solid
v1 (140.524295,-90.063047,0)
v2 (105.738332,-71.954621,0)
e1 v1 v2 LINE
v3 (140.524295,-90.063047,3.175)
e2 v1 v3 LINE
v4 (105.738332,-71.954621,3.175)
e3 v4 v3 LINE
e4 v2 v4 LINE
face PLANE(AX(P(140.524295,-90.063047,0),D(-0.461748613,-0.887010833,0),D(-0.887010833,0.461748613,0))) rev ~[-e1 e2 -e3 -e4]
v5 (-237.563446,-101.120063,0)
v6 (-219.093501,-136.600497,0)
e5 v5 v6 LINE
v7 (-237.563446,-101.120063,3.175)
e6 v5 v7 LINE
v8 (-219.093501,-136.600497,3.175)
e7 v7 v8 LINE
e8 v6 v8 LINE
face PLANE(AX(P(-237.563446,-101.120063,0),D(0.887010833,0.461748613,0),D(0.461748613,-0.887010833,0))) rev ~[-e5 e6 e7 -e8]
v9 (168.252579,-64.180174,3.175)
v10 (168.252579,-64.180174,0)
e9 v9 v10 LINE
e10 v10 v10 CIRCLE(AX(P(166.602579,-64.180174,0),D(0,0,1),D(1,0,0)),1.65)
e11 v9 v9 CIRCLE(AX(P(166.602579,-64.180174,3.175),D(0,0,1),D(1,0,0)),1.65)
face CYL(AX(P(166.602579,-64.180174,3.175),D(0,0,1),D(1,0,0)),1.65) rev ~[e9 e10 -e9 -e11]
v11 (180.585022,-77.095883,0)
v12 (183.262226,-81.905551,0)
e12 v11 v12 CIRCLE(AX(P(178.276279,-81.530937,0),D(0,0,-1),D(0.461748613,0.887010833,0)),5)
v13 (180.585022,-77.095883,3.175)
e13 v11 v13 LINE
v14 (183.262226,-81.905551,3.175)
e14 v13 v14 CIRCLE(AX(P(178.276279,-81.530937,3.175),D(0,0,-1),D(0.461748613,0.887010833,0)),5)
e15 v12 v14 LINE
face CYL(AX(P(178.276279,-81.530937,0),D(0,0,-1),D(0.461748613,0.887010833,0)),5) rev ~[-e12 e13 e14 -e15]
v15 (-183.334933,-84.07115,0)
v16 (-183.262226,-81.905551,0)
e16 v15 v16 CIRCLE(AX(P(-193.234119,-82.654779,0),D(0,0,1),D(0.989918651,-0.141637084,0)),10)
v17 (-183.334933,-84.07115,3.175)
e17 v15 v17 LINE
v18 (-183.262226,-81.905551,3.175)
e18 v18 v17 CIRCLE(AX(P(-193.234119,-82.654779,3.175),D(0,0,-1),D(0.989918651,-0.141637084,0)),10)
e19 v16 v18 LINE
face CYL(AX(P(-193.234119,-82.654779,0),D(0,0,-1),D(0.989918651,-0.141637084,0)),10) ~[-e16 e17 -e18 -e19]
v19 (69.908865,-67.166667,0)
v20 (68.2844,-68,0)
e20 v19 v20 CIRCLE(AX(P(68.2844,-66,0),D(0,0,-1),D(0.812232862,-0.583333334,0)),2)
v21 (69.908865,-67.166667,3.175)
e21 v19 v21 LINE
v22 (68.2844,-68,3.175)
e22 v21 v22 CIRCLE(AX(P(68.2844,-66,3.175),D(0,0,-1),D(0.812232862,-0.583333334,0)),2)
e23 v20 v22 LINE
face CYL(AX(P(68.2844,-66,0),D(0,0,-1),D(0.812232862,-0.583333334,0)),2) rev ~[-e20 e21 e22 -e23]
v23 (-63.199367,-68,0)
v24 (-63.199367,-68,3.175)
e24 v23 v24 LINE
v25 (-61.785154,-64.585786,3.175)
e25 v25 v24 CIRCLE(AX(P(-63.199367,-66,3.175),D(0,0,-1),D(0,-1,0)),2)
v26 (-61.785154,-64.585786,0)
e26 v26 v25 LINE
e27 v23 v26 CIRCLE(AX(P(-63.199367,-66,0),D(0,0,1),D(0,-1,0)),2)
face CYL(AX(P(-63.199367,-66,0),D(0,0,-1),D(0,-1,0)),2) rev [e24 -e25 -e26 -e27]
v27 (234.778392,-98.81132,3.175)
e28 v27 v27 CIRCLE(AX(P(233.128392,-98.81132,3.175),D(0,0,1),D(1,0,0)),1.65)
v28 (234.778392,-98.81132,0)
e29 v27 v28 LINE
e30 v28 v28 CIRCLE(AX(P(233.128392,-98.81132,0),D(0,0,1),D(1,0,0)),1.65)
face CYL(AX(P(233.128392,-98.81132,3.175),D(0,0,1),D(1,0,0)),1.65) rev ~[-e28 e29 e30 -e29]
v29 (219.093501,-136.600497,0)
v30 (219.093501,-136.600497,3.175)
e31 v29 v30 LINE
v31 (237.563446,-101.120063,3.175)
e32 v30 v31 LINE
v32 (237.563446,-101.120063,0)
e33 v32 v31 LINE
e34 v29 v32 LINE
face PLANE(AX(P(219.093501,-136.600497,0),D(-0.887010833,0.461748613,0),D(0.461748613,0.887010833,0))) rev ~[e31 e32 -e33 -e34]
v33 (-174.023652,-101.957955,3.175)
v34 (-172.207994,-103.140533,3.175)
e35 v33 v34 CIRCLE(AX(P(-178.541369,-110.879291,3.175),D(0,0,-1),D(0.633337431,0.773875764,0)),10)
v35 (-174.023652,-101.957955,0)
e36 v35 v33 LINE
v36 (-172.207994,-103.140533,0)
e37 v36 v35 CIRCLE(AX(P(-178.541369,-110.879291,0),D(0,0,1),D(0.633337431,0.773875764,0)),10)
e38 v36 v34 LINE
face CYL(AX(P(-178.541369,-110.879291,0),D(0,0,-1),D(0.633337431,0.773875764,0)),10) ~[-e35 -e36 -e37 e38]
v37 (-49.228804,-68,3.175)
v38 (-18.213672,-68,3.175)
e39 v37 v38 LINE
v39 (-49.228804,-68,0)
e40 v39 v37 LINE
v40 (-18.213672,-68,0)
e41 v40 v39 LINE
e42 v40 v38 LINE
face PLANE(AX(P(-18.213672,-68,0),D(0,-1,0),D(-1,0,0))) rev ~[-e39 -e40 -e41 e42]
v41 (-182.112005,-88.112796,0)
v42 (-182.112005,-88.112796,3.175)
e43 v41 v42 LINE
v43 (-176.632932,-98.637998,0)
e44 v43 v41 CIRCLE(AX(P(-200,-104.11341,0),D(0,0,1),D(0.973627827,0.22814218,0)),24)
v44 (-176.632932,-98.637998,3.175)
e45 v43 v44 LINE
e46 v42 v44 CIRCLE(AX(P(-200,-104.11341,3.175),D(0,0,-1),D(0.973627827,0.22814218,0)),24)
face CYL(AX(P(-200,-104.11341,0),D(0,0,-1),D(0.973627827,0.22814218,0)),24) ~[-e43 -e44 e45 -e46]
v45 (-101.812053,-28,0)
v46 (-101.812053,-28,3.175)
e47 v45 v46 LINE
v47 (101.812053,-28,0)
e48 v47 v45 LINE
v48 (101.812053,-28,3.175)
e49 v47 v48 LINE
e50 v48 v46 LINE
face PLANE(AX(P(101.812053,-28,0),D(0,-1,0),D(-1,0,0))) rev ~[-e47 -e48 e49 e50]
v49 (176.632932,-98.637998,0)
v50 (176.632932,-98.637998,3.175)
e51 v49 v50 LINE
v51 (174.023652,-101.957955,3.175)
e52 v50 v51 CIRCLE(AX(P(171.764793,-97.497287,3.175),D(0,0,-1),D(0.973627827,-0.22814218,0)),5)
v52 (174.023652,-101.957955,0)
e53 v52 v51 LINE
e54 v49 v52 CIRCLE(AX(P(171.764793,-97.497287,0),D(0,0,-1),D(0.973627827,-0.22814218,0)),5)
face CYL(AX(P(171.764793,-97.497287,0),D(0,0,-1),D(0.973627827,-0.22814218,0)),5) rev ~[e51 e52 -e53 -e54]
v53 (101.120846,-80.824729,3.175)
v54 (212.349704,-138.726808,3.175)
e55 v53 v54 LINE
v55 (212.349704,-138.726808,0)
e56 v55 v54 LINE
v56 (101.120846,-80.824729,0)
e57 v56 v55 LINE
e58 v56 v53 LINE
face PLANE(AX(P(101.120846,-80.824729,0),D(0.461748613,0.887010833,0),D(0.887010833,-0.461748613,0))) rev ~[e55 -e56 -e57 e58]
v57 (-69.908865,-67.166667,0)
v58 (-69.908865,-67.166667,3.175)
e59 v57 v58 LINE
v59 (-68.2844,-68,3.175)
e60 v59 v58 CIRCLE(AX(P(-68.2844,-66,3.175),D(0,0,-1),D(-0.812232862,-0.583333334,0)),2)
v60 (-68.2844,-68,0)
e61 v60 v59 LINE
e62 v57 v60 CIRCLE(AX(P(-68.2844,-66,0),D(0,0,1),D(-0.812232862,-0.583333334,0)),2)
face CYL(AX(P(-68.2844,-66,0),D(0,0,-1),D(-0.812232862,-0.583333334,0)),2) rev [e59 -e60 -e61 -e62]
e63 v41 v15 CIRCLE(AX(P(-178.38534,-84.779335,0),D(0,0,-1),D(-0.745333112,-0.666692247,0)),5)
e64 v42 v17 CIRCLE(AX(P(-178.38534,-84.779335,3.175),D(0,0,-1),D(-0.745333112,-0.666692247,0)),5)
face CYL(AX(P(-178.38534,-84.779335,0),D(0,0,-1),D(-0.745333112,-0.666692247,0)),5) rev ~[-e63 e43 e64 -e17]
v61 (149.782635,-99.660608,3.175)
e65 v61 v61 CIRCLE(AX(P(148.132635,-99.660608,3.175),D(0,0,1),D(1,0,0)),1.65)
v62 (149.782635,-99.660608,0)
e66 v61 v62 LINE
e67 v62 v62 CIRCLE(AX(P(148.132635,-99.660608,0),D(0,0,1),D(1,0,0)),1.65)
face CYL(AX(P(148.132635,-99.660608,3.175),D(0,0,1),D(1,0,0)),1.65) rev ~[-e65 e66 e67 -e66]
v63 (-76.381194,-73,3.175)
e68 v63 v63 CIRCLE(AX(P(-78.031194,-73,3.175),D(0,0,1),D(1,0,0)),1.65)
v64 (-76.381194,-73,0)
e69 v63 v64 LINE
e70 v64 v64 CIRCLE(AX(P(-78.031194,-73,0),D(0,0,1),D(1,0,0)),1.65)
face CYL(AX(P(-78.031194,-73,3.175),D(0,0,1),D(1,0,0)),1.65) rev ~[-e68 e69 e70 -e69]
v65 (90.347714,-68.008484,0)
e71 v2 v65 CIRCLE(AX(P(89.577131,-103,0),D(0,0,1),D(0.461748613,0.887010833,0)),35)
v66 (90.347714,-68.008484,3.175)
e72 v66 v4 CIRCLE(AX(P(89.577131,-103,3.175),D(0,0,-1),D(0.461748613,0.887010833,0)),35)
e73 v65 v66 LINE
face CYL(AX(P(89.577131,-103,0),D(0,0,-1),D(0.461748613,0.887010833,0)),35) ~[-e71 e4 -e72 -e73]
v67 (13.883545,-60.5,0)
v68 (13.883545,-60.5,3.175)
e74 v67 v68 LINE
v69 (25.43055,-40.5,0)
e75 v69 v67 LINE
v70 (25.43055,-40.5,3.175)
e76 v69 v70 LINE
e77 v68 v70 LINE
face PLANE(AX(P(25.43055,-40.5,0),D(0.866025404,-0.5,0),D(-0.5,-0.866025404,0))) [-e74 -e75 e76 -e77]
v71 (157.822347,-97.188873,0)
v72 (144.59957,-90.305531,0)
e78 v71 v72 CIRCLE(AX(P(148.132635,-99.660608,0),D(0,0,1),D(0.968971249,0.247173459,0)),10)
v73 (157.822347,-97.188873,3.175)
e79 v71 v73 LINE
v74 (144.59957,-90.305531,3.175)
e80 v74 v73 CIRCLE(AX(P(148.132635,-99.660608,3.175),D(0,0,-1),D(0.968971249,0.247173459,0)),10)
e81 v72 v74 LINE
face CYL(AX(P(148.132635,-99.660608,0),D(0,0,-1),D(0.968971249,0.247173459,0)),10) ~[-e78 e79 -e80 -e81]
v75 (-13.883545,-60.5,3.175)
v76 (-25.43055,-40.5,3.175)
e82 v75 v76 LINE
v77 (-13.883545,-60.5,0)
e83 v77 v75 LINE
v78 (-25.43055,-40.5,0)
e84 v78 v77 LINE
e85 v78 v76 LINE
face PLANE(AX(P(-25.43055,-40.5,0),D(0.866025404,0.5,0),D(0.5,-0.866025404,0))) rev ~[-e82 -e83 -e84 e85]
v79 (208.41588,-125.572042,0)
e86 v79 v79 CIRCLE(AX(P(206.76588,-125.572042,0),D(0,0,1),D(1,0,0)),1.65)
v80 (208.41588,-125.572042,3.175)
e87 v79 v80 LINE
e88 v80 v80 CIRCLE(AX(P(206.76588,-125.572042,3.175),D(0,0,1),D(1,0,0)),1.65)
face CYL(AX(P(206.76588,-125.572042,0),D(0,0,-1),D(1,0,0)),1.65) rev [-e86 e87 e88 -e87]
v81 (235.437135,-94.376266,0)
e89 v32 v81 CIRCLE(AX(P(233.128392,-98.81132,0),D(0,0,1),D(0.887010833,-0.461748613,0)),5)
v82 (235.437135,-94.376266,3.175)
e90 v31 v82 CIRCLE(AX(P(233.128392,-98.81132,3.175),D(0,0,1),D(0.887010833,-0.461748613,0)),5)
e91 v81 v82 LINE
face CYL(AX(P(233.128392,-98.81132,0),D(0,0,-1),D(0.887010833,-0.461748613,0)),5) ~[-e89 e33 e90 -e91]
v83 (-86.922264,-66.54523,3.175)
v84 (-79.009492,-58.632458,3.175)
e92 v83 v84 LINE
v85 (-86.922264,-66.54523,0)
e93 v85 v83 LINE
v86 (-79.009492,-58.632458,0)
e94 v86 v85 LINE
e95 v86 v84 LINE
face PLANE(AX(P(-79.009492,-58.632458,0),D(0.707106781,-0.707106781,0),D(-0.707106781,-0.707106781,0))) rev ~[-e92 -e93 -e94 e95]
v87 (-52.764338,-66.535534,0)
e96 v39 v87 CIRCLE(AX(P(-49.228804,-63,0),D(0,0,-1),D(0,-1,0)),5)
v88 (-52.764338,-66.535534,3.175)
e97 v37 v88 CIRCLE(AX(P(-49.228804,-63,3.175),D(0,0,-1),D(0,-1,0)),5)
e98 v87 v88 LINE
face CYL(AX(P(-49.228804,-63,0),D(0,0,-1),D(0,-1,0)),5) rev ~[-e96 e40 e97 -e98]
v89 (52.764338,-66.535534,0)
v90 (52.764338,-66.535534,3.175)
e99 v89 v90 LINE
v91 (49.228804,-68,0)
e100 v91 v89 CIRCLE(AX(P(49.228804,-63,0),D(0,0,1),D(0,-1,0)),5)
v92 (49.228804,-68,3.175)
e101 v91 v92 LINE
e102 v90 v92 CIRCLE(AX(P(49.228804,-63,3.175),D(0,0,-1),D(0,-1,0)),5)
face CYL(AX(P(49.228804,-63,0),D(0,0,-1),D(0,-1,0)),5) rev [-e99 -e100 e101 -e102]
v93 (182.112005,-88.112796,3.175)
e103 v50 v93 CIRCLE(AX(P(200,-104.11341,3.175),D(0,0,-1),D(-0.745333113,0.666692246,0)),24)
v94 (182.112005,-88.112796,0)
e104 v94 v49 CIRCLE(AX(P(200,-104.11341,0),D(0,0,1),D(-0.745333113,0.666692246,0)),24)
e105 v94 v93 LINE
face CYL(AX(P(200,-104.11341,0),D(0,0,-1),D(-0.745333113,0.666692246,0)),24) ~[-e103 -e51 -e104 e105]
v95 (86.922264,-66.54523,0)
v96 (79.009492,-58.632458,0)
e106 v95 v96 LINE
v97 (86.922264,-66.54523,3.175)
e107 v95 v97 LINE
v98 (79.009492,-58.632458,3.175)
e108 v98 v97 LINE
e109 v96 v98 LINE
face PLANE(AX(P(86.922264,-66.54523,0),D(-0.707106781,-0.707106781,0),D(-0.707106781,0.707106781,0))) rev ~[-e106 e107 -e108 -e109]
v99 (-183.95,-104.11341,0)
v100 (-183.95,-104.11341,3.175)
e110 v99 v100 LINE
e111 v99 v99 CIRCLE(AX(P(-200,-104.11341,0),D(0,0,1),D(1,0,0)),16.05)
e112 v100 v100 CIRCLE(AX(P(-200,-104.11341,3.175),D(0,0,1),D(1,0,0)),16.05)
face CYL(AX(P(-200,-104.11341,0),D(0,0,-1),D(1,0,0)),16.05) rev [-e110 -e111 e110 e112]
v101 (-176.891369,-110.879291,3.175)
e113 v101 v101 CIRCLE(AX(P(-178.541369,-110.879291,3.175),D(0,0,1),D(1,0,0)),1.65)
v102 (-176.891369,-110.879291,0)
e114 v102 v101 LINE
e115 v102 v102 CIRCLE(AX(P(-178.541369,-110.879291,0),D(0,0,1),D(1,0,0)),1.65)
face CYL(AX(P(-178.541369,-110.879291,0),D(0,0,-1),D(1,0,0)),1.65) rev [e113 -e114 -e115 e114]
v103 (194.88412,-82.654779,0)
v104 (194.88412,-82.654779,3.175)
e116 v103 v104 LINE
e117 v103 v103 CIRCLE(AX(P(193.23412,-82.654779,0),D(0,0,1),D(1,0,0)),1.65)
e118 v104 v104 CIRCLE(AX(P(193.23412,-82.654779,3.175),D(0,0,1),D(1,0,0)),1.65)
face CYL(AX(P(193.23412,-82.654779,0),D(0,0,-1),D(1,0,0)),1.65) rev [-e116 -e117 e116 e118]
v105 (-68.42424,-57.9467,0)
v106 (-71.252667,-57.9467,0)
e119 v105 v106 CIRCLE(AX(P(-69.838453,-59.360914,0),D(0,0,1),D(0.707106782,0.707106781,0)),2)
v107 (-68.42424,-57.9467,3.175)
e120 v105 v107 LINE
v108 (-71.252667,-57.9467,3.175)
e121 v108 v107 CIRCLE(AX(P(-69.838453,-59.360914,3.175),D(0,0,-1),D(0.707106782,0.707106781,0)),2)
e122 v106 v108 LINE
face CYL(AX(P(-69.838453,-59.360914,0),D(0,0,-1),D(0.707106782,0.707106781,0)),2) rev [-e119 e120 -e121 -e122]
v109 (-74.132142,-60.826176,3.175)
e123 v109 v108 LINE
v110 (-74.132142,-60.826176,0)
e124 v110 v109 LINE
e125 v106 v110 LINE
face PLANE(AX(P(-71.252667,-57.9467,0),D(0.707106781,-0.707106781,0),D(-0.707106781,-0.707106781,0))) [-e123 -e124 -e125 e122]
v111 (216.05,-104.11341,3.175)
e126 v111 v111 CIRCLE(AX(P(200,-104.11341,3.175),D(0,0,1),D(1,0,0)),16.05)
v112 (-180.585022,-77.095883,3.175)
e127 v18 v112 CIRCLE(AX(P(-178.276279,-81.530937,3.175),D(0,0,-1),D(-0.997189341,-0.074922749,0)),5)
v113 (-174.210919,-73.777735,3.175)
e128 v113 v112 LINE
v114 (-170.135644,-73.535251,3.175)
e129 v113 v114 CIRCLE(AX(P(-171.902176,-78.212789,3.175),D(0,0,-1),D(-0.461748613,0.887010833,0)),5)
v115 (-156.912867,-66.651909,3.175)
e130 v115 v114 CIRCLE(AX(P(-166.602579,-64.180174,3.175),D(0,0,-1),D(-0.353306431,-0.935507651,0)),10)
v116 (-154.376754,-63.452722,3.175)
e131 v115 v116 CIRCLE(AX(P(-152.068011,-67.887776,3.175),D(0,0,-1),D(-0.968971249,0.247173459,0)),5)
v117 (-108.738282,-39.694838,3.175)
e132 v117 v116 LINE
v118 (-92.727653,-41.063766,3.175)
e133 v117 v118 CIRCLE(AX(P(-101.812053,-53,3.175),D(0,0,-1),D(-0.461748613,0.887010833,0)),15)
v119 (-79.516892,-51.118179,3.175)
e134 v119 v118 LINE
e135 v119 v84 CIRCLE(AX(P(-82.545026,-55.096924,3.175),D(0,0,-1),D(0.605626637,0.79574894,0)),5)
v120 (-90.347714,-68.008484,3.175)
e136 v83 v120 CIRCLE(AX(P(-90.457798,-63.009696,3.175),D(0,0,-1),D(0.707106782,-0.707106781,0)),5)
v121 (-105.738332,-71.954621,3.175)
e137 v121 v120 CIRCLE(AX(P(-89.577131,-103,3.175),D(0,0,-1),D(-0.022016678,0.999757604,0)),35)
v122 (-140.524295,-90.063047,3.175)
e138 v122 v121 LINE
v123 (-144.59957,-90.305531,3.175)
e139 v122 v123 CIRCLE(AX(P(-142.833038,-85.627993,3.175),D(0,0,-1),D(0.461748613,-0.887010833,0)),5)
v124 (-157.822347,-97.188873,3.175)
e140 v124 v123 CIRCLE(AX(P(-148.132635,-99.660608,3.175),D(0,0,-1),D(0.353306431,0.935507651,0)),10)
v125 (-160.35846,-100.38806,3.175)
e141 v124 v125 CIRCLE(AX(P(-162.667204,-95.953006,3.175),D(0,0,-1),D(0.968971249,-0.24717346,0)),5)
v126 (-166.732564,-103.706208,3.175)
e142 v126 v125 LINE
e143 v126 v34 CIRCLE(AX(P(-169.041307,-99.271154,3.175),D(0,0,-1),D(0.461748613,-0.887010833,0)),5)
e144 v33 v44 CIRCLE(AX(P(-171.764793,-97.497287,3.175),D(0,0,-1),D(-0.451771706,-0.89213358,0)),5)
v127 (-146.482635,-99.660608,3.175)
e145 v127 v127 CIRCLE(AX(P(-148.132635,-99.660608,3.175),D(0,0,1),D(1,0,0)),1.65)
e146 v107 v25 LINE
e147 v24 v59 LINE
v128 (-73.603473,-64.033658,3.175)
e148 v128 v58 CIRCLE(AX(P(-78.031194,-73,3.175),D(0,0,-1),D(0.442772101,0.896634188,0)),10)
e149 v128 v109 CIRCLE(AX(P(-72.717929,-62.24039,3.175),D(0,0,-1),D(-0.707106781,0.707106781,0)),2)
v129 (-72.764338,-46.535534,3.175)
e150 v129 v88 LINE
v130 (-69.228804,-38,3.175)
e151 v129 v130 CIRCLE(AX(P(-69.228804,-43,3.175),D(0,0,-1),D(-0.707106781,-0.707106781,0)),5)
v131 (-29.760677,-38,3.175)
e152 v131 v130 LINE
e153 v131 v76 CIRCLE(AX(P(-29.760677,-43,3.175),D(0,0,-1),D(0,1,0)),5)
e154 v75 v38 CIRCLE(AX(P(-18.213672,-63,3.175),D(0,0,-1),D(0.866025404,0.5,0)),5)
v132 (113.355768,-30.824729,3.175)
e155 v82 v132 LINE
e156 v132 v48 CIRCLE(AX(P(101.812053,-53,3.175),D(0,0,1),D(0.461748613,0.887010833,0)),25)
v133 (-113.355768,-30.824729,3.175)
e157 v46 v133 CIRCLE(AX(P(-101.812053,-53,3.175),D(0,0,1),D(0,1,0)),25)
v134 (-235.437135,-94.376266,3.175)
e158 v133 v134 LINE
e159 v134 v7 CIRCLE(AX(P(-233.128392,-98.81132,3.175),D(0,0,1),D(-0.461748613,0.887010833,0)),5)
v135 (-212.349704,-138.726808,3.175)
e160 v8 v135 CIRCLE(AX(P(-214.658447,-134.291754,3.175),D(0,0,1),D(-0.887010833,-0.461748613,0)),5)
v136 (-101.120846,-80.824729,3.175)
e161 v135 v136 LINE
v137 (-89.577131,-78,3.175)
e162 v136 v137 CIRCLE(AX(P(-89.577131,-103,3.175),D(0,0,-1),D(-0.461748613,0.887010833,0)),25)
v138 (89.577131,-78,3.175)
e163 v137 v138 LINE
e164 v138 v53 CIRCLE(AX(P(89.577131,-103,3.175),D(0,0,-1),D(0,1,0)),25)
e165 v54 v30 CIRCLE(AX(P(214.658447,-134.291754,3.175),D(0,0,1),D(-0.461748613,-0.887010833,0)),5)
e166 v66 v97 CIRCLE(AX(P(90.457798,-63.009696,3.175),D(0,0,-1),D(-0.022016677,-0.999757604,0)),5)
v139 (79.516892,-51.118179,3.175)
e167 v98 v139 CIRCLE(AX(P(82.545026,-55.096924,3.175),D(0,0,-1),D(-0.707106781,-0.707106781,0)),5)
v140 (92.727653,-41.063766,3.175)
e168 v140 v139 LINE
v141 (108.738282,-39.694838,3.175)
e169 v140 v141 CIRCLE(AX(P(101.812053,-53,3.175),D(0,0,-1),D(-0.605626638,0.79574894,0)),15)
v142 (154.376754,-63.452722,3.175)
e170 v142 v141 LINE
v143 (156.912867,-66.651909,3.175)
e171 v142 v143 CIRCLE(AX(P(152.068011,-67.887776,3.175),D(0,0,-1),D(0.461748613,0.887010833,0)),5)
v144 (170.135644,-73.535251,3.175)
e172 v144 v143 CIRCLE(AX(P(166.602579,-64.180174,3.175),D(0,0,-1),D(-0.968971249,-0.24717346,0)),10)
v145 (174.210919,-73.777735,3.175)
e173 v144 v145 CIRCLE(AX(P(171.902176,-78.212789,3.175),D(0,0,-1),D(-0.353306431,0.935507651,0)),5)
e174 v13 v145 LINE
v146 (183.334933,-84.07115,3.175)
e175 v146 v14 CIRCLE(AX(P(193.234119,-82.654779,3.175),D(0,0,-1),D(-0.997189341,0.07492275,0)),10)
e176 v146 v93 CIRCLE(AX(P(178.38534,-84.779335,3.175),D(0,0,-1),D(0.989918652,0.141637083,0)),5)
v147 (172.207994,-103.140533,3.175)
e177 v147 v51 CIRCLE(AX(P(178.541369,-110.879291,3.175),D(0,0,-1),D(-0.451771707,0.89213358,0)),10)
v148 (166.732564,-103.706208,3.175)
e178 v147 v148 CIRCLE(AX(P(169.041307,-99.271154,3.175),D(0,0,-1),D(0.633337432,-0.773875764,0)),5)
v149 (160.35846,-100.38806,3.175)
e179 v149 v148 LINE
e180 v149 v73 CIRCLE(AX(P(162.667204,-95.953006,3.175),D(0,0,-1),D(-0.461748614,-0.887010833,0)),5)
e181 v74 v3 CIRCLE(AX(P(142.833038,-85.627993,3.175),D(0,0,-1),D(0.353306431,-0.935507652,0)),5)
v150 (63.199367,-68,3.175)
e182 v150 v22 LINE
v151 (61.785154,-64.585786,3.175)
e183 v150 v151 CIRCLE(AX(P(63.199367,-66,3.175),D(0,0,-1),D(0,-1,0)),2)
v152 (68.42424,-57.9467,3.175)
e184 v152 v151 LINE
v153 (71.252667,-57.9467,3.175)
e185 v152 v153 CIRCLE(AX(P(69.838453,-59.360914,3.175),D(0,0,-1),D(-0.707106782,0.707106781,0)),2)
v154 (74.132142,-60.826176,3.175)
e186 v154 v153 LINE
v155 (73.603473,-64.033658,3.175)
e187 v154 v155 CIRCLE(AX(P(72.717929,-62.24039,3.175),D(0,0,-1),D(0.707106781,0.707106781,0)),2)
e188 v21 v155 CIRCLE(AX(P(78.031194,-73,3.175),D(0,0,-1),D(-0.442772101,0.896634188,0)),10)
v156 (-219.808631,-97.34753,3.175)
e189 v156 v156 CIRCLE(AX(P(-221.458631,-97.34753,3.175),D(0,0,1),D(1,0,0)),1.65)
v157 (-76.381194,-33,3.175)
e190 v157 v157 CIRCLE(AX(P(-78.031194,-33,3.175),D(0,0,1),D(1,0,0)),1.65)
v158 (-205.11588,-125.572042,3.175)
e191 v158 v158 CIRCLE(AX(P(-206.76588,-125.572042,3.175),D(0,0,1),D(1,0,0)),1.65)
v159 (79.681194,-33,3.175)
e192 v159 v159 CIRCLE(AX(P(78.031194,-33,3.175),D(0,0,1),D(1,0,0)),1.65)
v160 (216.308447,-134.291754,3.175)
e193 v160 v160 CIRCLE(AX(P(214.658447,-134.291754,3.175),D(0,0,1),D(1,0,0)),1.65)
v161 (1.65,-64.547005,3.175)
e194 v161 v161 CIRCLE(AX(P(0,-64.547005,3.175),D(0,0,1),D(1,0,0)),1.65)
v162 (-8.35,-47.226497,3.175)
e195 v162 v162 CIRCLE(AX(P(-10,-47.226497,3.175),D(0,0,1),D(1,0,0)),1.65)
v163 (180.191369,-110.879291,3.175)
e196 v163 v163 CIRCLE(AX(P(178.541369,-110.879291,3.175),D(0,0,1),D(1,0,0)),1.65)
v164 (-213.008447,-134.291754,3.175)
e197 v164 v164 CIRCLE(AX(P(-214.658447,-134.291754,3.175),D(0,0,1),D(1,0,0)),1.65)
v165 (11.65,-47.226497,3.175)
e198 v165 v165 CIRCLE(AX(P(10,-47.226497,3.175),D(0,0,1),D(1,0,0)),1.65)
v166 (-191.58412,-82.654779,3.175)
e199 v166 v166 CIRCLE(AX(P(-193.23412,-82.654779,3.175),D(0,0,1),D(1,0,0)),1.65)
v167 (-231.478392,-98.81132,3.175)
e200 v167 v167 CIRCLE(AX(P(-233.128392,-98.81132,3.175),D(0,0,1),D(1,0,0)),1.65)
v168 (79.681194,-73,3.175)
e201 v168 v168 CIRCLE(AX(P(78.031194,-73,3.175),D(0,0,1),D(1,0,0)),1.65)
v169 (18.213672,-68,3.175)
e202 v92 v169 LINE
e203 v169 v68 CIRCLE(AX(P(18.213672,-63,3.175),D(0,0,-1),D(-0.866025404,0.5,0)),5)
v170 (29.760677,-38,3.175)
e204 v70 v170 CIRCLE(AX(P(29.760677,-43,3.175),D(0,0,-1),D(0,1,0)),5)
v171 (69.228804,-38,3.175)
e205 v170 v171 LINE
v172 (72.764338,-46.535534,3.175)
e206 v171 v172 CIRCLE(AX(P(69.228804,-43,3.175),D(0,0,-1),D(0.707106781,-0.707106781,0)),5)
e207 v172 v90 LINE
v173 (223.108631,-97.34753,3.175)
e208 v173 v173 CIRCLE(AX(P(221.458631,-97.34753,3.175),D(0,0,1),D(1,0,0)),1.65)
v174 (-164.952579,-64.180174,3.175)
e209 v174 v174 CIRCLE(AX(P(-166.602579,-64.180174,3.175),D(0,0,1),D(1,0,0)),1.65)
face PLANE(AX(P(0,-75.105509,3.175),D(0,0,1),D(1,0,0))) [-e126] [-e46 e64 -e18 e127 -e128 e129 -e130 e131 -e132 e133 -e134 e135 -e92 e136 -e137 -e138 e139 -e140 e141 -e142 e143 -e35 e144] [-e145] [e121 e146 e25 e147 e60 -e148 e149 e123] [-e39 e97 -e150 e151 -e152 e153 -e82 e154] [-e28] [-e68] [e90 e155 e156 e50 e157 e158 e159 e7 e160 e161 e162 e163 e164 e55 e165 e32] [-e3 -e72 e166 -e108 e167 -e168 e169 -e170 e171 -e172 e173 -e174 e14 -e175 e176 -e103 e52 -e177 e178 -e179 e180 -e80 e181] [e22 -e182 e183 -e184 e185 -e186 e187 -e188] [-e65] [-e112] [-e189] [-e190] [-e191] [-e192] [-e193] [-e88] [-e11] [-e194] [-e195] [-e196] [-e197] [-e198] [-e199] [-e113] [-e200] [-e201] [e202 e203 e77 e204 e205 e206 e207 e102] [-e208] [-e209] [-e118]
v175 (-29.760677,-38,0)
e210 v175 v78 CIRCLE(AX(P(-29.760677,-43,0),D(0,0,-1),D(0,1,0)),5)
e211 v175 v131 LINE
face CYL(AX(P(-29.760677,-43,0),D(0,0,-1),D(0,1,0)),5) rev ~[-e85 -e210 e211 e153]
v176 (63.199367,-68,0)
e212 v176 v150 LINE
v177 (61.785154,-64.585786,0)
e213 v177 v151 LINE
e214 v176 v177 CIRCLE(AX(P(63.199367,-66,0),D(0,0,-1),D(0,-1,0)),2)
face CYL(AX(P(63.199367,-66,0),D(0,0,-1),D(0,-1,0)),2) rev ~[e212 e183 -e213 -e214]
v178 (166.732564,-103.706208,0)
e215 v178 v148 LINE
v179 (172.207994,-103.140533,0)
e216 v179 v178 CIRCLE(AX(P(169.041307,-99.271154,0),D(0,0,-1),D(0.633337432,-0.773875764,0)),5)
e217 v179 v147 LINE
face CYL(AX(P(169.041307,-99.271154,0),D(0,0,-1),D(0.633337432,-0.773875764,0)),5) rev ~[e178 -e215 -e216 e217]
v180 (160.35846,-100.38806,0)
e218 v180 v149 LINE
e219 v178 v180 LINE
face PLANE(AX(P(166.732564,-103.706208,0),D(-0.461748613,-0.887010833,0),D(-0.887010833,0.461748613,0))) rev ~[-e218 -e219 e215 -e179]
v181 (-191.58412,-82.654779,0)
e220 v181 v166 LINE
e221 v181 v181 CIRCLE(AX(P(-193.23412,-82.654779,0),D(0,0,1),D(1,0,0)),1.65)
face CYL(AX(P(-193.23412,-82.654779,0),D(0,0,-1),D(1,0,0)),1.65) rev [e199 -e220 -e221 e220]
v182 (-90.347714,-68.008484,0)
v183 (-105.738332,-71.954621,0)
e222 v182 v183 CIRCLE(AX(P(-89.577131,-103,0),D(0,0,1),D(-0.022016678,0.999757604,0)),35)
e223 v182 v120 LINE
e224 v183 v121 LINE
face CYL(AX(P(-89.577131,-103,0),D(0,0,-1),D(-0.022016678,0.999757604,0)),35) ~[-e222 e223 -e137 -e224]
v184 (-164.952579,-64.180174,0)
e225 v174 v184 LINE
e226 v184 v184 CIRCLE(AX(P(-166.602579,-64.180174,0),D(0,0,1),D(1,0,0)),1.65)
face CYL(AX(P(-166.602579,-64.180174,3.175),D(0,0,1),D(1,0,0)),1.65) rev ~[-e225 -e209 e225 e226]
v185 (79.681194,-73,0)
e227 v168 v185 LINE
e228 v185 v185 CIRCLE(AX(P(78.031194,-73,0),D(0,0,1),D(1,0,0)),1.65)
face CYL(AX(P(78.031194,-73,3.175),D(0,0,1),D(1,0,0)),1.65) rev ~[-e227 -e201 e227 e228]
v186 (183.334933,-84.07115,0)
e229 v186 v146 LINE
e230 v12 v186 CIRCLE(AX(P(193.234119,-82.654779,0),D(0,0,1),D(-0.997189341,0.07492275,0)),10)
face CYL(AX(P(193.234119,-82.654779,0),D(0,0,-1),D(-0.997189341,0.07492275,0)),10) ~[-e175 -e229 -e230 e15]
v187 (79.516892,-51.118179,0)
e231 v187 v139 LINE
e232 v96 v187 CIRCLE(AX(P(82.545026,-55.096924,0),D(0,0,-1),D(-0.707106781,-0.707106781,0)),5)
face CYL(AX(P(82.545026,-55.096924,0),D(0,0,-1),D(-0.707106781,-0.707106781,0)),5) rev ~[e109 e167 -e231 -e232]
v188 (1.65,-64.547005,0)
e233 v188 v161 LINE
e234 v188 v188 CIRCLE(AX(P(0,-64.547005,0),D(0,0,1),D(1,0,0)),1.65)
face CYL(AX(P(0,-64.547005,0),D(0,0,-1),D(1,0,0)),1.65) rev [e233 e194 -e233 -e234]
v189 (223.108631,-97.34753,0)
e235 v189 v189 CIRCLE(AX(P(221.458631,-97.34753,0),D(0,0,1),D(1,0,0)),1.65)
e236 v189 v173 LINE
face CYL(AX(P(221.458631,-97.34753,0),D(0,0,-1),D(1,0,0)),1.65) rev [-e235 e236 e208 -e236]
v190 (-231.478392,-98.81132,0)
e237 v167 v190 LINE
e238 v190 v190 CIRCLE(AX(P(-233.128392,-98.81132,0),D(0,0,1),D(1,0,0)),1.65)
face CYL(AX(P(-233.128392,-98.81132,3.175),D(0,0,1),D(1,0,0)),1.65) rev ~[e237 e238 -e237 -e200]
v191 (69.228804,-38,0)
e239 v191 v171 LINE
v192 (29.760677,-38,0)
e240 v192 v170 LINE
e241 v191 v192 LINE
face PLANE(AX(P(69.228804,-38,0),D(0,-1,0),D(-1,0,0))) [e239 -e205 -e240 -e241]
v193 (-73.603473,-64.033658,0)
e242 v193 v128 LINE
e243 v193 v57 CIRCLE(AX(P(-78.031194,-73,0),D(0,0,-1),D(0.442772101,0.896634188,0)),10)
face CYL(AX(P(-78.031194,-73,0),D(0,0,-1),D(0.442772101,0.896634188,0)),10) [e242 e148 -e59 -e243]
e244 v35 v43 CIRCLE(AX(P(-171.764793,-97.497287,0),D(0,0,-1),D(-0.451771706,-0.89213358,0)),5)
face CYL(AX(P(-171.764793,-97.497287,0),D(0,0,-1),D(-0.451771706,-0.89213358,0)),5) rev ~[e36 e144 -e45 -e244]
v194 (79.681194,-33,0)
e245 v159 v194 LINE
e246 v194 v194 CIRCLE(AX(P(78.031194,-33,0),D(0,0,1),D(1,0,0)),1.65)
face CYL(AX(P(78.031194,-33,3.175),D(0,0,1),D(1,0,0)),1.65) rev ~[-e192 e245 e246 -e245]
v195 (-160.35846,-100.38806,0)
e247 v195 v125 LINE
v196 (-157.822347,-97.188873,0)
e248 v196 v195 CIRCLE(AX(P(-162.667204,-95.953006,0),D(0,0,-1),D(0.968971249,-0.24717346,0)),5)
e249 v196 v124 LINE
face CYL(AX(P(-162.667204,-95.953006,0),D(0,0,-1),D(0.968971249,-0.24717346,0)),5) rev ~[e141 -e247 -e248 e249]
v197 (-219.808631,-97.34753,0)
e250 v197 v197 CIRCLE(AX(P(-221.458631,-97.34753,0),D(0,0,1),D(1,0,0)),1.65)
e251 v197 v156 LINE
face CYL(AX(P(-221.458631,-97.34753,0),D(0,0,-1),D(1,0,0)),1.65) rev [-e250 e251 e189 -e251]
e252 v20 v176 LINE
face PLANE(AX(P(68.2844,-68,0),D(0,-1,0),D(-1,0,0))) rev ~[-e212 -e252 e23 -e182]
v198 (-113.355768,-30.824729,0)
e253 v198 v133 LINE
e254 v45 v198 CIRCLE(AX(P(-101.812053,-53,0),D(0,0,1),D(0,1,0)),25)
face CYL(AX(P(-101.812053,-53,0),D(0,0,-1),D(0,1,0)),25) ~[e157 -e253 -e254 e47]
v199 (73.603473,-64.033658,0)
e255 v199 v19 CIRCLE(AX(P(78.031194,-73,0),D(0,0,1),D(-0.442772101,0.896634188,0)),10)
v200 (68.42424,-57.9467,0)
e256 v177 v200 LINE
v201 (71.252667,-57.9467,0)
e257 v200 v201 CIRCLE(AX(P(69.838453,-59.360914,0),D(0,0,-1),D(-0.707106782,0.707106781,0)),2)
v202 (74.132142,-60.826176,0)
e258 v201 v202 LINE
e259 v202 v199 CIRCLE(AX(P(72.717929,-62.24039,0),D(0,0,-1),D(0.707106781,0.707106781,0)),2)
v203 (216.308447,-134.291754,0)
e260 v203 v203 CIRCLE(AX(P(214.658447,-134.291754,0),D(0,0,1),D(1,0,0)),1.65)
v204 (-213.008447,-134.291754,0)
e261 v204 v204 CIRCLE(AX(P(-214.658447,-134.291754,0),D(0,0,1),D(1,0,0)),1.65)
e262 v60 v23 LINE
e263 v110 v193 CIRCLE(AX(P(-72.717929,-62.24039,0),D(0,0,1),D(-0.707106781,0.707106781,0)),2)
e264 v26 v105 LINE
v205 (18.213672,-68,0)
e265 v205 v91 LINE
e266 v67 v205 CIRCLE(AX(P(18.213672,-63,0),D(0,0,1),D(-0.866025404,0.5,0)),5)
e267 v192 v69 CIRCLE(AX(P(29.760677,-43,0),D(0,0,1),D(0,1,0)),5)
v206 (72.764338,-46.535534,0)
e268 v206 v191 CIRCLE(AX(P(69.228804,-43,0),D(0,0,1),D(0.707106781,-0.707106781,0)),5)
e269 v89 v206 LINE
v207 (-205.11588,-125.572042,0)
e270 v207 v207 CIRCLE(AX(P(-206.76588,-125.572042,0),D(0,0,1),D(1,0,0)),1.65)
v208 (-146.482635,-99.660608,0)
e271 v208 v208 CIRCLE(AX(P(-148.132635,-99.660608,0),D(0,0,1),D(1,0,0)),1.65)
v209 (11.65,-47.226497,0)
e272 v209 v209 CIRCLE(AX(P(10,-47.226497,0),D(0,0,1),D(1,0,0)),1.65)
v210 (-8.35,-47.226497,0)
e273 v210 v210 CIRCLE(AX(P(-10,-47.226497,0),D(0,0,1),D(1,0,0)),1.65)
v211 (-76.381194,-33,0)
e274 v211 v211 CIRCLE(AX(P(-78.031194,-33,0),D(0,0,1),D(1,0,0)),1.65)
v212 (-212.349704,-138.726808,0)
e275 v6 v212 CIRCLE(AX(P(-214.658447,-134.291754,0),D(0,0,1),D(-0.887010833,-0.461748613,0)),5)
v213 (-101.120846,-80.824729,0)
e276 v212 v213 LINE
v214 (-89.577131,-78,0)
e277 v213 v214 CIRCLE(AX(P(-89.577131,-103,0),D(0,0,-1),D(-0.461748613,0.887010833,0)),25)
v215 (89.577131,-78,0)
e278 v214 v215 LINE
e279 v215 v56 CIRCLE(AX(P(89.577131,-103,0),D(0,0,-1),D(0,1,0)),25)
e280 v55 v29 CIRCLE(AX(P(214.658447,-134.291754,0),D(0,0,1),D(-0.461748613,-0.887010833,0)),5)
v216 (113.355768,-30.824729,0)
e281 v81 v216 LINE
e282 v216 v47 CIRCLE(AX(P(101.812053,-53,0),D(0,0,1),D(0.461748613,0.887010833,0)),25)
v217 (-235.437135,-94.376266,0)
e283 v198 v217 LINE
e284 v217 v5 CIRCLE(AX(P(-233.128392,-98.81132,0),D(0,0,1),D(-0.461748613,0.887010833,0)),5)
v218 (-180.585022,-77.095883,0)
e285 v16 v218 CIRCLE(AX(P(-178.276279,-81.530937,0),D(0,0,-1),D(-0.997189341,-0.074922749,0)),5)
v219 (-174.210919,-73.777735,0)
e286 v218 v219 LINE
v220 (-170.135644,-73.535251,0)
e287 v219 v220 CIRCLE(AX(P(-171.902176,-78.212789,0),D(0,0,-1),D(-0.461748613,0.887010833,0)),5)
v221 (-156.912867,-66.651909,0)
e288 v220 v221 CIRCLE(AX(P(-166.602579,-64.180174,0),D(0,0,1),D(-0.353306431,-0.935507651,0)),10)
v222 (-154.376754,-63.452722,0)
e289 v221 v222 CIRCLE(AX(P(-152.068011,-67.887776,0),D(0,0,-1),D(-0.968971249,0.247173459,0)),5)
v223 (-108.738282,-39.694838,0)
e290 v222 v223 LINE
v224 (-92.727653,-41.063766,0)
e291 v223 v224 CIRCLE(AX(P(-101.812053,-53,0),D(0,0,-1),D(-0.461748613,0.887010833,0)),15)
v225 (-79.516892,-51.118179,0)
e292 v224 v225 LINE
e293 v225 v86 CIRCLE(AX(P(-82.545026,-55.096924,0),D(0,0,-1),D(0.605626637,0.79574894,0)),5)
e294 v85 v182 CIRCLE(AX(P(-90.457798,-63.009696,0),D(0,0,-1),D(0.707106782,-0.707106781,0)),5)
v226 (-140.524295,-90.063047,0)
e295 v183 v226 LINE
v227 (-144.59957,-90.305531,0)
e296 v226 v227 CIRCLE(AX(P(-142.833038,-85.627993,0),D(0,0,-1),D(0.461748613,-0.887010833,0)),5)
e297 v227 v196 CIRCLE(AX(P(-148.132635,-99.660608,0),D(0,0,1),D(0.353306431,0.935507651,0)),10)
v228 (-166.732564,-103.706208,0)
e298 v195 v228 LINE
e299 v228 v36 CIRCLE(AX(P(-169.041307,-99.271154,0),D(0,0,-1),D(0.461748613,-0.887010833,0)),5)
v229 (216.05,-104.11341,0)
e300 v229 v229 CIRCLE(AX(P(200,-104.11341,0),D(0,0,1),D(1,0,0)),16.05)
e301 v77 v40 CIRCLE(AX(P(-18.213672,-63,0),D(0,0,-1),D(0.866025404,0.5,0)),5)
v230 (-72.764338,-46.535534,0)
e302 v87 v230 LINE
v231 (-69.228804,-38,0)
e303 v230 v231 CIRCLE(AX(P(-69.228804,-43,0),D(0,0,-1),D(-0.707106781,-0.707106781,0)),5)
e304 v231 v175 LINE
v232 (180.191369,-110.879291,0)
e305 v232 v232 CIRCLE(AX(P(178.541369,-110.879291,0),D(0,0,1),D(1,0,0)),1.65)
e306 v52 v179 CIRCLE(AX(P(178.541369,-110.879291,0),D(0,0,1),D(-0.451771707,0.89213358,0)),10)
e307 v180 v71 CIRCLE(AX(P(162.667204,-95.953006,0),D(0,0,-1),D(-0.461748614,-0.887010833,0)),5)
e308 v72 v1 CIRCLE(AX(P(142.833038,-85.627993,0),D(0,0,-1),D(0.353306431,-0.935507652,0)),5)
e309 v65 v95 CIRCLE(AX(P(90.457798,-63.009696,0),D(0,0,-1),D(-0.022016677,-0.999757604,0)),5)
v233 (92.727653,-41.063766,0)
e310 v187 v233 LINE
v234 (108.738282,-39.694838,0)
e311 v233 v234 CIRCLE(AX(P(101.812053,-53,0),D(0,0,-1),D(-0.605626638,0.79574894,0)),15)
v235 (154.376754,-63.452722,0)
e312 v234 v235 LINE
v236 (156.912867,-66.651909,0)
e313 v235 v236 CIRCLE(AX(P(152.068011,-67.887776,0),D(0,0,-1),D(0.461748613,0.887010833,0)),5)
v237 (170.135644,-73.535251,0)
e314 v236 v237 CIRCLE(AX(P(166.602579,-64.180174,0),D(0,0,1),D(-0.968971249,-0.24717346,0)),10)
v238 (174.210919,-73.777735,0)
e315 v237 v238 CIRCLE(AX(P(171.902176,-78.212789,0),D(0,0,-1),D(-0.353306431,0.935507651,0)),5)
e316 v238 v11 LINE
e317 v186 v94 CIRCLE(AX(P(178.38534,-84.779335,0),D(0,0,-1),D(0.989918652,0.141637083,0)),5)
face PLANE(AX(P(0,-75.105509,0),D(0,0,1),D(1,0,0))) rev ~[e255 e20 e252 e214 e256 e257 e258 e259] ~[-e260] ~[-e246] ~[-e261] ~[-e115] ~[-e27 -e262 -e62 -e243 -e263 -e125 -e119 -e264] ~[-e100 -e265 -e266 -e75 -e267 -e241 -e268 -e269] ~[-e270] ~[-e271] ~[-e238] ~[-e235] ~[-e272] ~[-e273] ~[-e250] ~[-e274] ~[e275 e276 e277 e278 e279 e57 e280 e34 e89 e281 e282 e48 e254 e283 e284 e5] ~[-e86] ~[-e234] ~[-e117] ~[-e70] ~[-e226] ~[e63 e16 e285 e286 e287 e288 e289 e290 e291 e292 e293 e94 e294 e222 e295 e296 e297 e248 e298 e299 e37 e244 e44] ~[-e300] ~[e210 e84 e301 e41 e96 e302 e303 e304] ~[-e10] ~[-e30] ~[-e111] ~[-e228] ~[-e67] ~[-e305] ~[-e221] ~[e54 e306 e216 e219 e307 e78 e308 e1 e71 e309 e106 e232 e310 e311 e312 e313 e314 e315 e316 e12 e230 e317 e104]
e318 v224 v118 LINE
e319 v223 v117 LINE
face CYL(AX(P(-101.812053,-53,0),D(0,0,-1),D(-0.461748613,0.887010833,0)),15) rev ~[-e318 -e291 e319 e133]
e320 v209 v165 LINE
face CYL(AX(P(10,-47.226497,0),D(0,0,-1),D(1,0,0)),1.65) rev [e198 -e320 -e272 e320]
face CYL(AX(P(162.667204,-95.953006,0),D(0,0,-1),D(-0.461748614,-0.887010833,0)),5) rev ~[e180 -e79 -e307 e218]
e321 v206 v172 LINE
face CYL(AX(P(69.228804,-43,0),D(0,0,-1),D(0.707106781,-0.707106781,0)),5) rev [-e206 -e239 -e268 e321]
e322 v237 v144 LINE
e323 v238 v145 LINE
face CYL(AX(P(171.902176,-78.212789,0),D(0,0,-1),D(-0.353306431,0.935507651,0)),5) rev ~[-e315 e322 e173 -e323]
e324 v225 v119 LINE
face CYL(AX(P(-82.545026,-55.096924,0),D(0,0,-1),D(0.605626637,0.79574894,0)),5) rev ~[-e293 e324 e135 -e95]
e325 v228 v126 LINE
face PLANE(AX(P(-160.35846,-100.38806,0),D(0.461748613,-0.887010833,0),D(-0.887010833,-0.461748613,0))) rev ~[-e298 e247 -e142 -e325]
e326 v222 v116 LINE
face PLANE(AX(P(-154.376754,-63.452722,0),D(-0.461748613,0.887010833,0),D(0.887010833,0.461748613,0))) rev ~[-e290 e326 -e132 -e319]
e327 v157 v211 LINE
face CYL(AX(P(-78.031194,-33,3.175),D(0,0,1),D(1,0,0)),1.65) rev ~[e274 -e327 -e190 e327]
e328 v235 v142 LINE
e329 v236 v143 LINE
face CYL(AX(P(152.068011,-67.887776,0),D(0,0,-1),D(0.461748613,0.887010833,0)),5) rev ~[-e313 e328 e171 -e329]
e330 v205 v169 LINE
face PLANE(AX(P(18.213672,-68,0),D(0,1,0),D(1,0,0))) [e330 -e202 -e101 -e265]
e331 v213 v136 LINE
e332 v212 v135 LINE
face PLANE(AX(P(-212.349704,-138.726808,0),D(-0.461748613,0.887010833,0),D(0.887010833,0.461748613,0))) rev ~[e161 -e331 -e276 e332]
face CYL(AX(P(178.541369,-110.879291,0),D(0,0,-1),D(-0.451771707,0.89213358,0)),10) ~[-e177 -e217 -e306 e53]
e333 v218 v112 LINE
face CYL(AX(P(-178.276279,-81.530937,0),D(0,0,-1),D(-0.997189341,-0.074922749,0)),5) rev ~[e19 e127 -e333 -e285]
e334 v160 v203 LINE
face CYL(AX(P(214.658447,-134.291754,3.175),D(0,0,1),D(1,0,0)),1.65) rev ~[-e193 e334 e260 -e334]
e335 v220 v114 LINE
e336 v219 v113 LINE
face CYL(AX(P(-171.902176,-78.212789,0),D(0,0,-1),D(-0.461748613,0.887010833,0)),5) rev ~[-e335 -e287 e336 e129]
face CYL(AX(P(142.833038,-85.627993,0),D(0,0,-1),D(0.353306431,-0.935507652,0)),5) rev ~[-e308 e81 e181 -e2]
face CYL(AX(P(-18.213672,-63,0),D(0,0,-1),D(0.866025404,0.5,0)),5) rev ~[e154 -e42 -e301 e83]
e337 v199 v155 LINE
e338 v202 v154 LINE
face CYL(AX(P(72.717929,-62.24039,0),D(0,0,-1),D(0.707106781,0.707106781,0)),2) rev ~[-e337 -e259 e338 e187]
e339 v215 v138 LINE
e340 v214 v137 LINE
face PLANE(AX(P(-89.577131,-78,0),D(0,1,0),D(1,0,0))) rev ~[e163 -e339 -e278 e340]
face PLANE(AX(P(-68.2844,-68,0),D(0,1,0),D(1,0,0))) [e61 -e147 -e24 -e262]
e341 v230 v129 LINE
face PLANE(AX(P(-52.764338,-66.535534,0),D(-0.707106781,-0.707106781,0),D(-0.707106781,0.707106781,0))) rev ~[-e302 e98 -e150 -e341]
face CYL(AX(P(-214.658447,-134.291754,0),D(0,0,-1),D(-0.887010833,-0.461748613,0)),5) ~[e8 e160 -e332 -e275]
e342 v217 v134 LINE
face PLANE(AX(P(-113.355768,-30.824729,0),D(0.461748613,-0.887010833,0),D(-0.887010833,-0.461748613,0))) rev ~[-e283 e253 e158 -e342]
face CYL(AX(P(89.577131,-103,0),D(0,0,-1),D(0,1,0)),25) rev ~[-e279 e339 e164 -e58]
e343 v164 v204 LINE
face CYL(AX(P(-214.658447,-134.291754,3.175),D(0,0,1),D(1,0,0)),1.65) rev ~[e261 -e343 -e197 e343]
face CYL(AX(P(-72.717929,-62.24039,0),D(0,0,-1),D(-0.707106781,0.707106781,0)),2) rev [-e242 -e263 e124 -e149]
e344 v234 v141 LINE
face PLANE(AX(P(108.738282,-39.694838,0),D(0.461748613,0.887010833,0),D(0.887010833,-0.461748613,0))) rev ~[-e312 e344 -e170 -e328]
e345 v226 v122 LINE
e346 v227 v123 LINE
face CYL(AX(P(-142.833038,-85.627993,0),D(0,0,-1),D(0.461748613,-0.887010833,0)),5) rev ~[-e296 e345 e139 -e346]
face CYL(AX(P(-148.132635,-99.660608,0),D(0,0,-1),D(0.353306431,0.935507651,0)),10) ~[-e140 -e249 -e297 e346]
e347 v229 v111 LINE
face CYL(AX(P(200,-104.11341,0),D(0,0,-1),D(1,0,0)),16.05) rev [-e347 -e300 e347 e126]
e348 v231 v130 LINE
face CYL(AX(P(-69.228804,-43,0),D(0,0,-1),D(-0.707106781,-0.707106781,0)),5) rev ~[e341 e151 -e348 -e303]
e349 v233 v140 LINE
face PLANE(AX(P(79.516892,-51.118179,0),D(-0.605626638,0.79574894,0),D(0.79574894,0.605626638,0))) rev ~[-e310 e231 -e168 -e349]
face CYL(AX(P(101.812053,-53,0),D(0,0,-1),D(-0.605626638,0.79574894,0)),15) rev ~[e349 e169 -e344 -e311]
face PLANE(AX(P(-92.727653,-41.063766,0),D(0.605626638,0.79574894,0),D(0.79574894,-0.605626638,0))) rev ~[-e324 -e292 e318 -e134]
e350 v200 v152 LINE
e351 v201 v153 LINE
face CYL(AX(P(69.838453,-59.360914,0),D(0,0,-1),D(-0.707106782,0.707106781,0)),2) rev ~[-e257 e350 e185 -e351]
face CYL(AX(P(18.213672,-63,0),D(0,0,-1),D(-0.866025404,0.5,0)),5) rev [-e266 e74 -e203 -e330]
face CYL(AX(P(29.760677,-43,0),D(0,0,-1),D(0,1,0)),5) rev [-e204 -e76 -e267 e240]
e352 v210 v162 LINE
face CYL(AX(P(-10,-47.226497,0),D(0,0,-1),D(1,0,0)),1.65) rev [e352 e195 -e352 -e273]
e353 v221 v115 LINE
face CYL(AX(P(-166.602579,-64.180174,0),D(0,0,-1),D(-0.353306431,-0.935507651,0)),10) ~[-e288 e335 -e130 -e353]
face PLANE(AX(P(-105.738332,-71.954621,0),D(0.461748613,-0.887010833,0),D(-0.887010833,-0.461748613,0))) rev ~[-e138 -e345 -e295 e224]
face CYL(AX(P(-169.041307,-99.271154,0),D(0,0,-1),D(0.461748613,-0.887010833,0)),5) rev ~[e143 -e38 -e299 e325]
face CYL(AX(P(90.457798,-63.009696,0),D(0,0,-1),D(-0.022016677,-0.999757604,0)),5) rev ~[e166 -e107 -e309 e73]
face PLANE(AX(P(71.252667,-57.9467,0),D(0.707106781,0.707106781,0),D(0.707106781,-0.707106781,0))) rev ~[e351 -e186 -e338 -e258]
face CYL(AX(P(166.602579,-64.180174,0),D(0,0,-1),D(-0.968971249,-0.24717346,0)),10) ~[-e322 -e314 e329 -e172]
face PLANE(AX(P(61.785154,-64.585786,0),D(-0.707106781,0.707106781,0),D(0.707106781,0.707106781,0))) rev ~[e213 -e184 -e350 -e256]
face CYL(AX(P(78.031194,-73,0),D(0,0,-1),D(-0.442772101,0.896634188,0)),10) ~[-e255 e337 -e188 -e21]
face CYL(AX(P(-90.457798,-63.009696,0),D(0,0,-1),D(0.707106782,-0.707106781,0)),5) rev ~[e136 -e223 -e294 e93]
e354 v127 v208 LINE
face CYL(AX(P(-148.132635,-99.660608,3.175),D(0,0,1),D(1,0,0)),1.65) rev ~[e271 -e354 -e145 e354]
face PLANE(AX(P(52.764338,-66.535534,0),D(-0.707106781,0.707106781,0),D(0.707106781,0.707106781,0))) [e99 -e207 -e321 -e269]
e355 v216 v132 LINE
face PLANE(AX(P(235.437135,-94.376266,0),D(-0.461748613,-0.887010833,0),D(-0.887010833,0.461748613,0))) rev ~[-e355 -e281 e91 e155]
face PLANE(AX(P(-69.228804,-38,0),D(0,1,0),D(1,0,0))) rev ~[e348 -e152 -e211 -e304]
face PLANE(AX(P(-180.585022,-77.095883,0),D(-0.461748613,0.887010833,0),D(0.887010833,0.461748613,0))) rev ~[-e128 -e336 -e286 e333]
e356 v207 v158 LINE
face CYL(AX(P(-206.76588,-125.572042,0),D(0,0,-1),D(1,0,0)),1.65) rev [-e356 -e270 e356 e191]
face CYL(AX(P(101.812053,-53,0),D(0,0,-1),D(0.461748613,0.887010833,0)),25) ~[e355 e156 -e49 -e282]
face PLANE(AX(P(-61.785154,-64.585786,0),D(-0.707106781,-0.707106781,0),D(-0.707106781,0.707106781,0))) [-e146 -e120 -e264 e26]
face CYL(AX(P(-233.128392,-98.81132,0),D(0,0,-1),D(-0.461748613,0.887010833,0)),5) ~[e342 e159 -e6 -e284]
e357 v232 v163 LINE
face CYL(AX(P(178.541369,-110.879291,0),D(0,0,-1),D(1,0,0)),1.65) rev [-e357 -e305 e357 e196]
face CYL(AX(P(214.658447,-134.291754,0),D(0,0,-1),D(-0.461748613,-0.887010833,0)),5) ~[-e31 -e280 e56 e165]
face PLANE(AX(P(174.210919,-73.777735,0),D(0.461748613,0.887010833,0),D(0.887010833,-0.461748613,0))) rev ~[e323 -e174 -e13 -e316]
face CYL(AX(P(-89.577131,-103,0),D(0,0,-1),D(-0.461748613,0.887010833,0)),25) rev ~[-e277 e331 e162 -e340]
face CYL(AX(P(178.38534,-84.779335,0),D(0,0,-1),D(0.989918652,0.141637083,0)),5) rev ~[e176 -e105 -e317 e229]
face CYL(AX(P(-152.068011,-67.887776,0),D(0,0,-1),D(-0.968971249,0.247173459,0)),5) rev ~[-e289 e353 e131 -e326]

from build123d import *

# Parameters (mm, degrees)
SKETCH1_R              = 16.05
SKETCH1_R_2            = 1.65
BASE_DEPTH             = 3.175
SKETCH3_R              = 1.65
STRUT_HOLES_DEPTH      = 4.175
LIGHTENING_HOLES_DEPTH = 4.175


with BuildPart() as part:
    # Sketch1 → Base (new body)
    with BuildSketch(Plane.XY):
        with BuildLine():
            Line((-113.35576806, -30.824729171), (-235.437134887, -94.376266227))
            ThreePointArc((-235.437134887, -94.376266227), (-237.896976574, -97.307791395), (-237.563445987, -101.120063459))
            Line((-237.563445987, -101.120063459), (-219.093501457, -136.600496786))
            ThreePointArc((-219.093501457, -136.600496786), (-216.161976289, -139.060338474), (-212.349704225, -138.726807886))
            Line((-212.349704225, -138.726807886), (-101.120845899, -80.824729171))
            ThreePointArc((-101.120845899, -80.824729171), (-95.519277876, -78.716448255), (-89.577130568, -78))
            Line((-89.577130568, -78), (89.577130568, -78))
            ThreePointArc((89.577130568, -78), (95.519277876, -78.716448255), (101.120845899, -80.824729171))
            Line((101.120845899, -80.824729171), (212.349704225, -138.726807886))
            ThreePointArc((212.349704225, -138.726807886), (216.161976289, -139.060338474), (219.093501457, -136.600496786))
            Line((219.093501457, -136.600496786), (237.563445987, -101.120063459))
            ThreePointArc((237.563445987, -101.120063459), (237.896976574, -97.307791395), (235.437134887, -94.376266227))
            Line((235.437134887, -94.376266227), (113.35576806, -30.824729171))
            ThreePointArc((113.35576806, -30.824729171), (107.754200038, -28.716448255), (101.812052729, -28))
            Line((101.812052729, -28), (-101.812052729, -28))
            ThreePointArc((-101.812052729, -28), (-107.754200038, -28.716448255), (-113.35576806, -30.824729171))
        make_face()
        with Locations((-200, -104.11341011)):
            Circle(SKETCH1_R, mode=Mode.SUBTRACT)
        with Locations((-221.458631392, -97.347529622)):
            Circle(SKETCH1_R_2, mode=Mode.SUBTRACT)
        with Locations((-193.234119511, -82.654778719)):
            Circle(SKETCH1_R_2, mode=Mode.SUBTRACT)
        with Locations((-178.541368608, -110.879290599)):
            Circle(SKETCH1_R_2, mode=Mode.SUBTRACT)
        with Locations((-206.765880489, -125.572041502)):
            Circle(SKETCH1_R_2, mode=Mode.SUBTRACT)
        with Locations((206.765880489, -125.572041502)):
            Circle(SKETCH1_R_2, mode=Mode.SUBTRACT)
        with Locations((221.458631392, -97.347529622)):
            Circle(SKETCH1_R_2, mode=Mode.SUBTRACT)
        with Locations((193.234119511, -82.654778719)):
            Circle(SKETCH1_R_2, mode=Mode.SUBTRACT)
        with Locations((178.541368608, -110.879290599)):
            Circle(SKETCH1_R_2, mode=Mode.SUBTRACT)
        with Locations((200, -104.11341011)):
            Circle(SKETCH1_R, mode=Mode.SUBTRACT)
        with Locations((-10, -47.226497308)):
            Circle(SKETCH1_R_2, mode=Mode.SUBTRACT)
        with Locations((10, -47.226497308)):
            Circle(SKETCH1_R_2, mode=Mode.SUBTRACT)
        with Locations((0, -64.547005384)):
            Circle(SKETCH1_R_2, mode=Mode.SUBTRACT)
    extrude(amount=BASE_DEPTH)

    # Sketch3 → Strut Holes (cut, through all)
    with BuildSketch(Plane.XY.offset(3.175)):
        with Locations((-214.658447291, -134.29175372)):
            Circle(SKETCH3_R)
        with Locations((-148.132634803, -99.660607727)):
            Circle(SKETCH3_R)
        with Locations((-78.03119405, -73)):
            Circle(SKETCH3_R)
        with Locations((-78.03119405, -33)):
            Circle(SKETCH3_R)
        with Locations((-166.602579332, -64.1801744)):
            Circle(SKETCH3_R)
        with Locations((-233.128391821, -98.811320393)):
            Circle(SKETCH3_R)
        with Locations((233.128391821, -98.811320393)):
            Circle(SKETCH3_R)
        with Locations((166.602579332, -64.1801744)):
            Circle(SKETCH3_R)
        with Locations((78.03119405, -33)):
            Circle(SKETCH3_R)
        with Locations((78.03119405, -73)):
            Circle(SKETCH3_R)
        with Locations((148.132634803, -99.660607727)):
            Circle(SKETCH3_R)
        with Locations((214.658447291, -134.29175372)):
            Circle(SKETCH3_R)
    extrude(amount=-STRUT_HOLES_DEPTH, mode=Mode.SUBTRACT)

    # Sketch4 → Lightening Holes (cut, through all)
    with BuildSketch(Plane(origin=(0, 0, 0), x_dir=(-1, 0, 0), z_dir=(0, 0, -1))):
        with BuildLine():
            Line((-166.732564066, -103.70620831), (-160.358460468, -100.38806))
            ThreePointArc((-160.358460468, -100.38806), (-158.749015825, -99.059097441), (-157.82234729, -97.188873132))
            ThreePointArc((-157.82234729, -97.188873132), (-152.750120935, -90.790499395), (-144.599570492, -90.305531214))
            ThreePointArc((-144.599570492, -90.305531214), (-142.53605719, -90.619165384), (-140.52429527, -90.063047123))
            Line((-140.52429527, -90.063047123), (-105.738332031, -71.954620839))
            ThreePointArc((-105.738332031, -71.954620839), (-98.269905543, -69.096671797), (-90.347714306, -68.008483875))
            ThreePointArc((-90.347714306, -68.008483875), (-88.493641512, -67.607748759), (-86.922263791, -66.545229763))
            Line((-86.922263791, -66.545229763), (-79.009491694, -58.632457666))
            ThreePointArc((-79.009491694, -58.632457666), (-77.556385787, -54.760066484), (-79.516892411, -51.11817906))
            Line((-79.516892411, -51.11817906), (-92.727653164, -41.063765898))
            ThreePointArc((-92.727653164, -41.063765898), (-100.534196684, -38.054529652), (-108.738281928, -39.694837502))
            Line((-108.738281928, -39.694837502), (-154.376753667, -63.452722127))
            ThreePointArc((-154.376753667, -63.452722127), (-155.986198311, -64.781684686), (-156.912866845, -66.651908996))
            ThreePointArc((-156.912866845, -66.651908996), (-161.9850932, -73.050282732), (-170.135643643, -73.535250914))
            ThreePointArc((-170.135643643, -73.535250914), (-172.199156946, -73.221616743), (-174.210918865, -73.777735004))
            Line((-174.210918865, -73.777735004), (-180.585022463, -77.095883315))
            ThreePointArc((-180.585022463, -77.095883315), (-182.645072259, -79.099137955), (-183.262226102, -81.905551227))
            ThreePointArc((-183.262226102, -81.905551227), (-183.239750678, -82.990325484), (-183.334932996, -84.071149549))
            ThreePointArc((-183.334932996, -84.071149549), (-183.171057415, -86.227404823), (-182.1120053, -88.112796196))
            ThreePointArc((-182.1120053, -88.112796196), (-178.711740004, -93.031443393), (-176.632932149, -98.637997792))
            ThreePointArc((-176.632932149, -98.637997792), (-175.695957289, -100.586938562), (-174.023651545, -101.957954795))
            ThreePointArc((-174.023651545, -101.957954795), (-173.083697968, -102.499921221), (-172.207994291, -103.140532962))
            ThreePointArc((-172.207994291, -103.140532962), (-169.555130221, -104.244682653), (-166.732564066, -103.70620831))
        make_face()
        with BuildLine():
            Line((-68.284399705, -68), (-63.199367137, -68))
            ThreePointArc((-63.199367137, -68), (-61.351608072, -66.765366865), (-61.785153575, -64.585786438))
            Line((-61.785153575, -64.585786438), (-68.424239552, -57.946700461))
            ThreePointArc((-68.424239552, -57.946700461), (-69.838453114, -57.360914023), (-71.252666676, -57.946700461))
            Line((-71.252666676, -57.946700461), (-74.132142401, -60.826176185))
            ThreePointArc((-74.132142401, -60.826176185), (-74.691303243, -62.565648815), (-73.60347304, -64.033658123))
            ThreePointArc((-73.60347304, -64.033658123), (-71.563592326, -65.373065627), (-69.908865429, -67.166666667))
            ThreePointArc((-69.908865429, -67.166666667), (-69.197270634, -67.779513042), (-68.284399705, -68))
        make_face()
        with BuildLine():
            Line((-25.430550415, -40.5), (-13.883545032, -60.5))
            ThreePointArc((-13.883545032, -60.5), (-13.883545032, -65.5), (-18.21367205, -68))
            Line((-18.21367205, -68), (-49.228804389, -68))
            ThreePointArc((-49.228804389, -68), (-51.14222155, -67.619397663), (-52.764338294, -66.535533906))
            Line((-52.764338294, -66.535533906), (-72.764338294, -46.535533906))
            ThreePointArc((-72.764338294, -46.535533906), (-73.848202051, -41.086582838), (-69.228804389, -38))
            Line((-69.228804389, -38), (-29.760677434, -38))
            ThreePointArc((-29.760677434, -38), (-27.260677434, -38.669872981), (-25.430550415, -40.5))
        make_face()
        with BuildLine():
            Line((52.764338294, -66.535533906), (72.764338294, -46.535533906))
            ThreePointArc((72.764338294, -46.535533906), (73.848202051, -41.086582838), (69.228804389, -38))
            Line((69.228804389, -38), (29.760677434, -38))
            ThreePointArc((29.760677434, -38), (27.260677434, -38.669872981), (25.430550415, -40.5))
            Line((25.430550415, -40.5), (13.883545032, -60.5))
            ThreePointArc((13.883545032, -60.5), (13.883545032, -65.5), (18.21367205, -68))
            Line((18.21367205, -68), (49.228804389, -68))
            ThreePointArc((49.228804389, -68), (51.14222155, -67.619397663), (52.764338294, -66.535533906))
        make_face()
        with BuildLine():
            Line((68.284399705, -68), (63.199367137, -68))
            ThreePointArc((63.199367137, -68), (61.351608072, -66.765366865), (61.785153575, -64.585786438))
            Line((61.785153575, -64.585786438), (68.424239552, -57.946700461))
            ThreePointArc((68.424239552, -57.946700461), (69.838453114, -57.360914023), (71.252666676, -57.946700461))
            Line((71.252666676, -57.946700461), (74.132142401, -60.826176185))
            ThreePointArc((74.132142401, -60.826176185), (74.691303243, -62.565648815), (73.60347304, -64.033658123))
            ThreePointArc((73.60347304, -64.033658123), (71.563592326, -65.373065627), (69.908865429, -67.166666667))
            ThreePointArc((69.908865429, -67.166666667), (69.197270634, -67.779513042), (68.284399705, -68))
        make_face()
        with BuildLine():
            Line((154.376753667, -63.452722127), (108.738281928, -39.694837502))
            ThreePointArc((108.738281928, -39.694837502), (100.534196684, -38.054529652), (92.727653164, -41.063765898))
            Line((92.727653164, -41.063765898), (79.516892411, -51.11817906))
            ThreePointArc((79.516892411, -51.11817906), (77.556385787, -54.760066484), (79.009491694, -58.632457666))
            Line((79.009491694, -58.632457666), (86.922263791, -66.545229763))
            ThreePointArc((86.922263791, -66.545229763), (88.493641512, -67.607748759), (90.347714306, -68.008483875))
            ThreePointArc((90.347714306, -68.008483875), (98.269905543, -69.096671797), (105.738332031, -71.954620839))
            Line((105.738332031, -71.954620839), (140.52429527, -90.063047123))
            ThreePointArc((140.52429527, -90.063047123), (142.53605719, -90.619165384), (144.599570492, -90.305531214))
            ThreePointArc((144.599570492, -90.305531214), (152.750120935, -90.790499395), (157.82234729, -97.188873132))
            ThreePointArc((157.82234729, -97.188873132), (158.749015825, -99.059097441), (160.358460468, -100.38806))
            Line((160.358460468, -100.38806), (166.732564066, -103.70620831))
            ThreePointArc((166.732564066, -103.70620831), (169.555130221, -104.244682653), (172.207994291, -103.140532962))
            ThreePointArc((172.207994291, -103.140532962), (173.083697968, -102.499921221), (174.023651545, -101.957954795))
            ThreePointArc((174.023651545, -101.957954795), (175.695957289, -100.586938562), (176.632932149, -98.637997792))
            ThreePointArc((176.632932149, -98.637997792), (178.711740004, -93.031443393), (182.1120053, -88.112796196))
            ThreePointArc((182.1120053, -88.112796196), (183.171057415, -86.227404823), (183.334932996, -84.071149549))
            ThreePointArc((183.334932996, -84.071149549), (183.239750678, -82.990325484), (183.262226102, -81.905551227))
            ThreePointArc((183.262226102, -81.905551227), (182.645072259, -79.099137955), (180.585022463, -77.095883315))
            Line((180.585022463, -77.095883315), (174.210918865, -73.777735004))
            ThreePointArc((174.210918865, -73.777735004), (172.199156946, -73.221616743), (170.135643643, -73.535250914))
            ThreePointArc((170.135643643, -73.535250914), (161.9850932, -73.050282732), (156.912866845, -66.651908996))
            ThreePointArc((156.912866845, -66.651908996), (155.986198311, -64.781684686), (154.376753667, -63.452722127))
        make_face()
    extrude(amount=-LIGHTENING_HOLES_DEPTH, mode=Mode.SUBTRACT)


solid = part.part
